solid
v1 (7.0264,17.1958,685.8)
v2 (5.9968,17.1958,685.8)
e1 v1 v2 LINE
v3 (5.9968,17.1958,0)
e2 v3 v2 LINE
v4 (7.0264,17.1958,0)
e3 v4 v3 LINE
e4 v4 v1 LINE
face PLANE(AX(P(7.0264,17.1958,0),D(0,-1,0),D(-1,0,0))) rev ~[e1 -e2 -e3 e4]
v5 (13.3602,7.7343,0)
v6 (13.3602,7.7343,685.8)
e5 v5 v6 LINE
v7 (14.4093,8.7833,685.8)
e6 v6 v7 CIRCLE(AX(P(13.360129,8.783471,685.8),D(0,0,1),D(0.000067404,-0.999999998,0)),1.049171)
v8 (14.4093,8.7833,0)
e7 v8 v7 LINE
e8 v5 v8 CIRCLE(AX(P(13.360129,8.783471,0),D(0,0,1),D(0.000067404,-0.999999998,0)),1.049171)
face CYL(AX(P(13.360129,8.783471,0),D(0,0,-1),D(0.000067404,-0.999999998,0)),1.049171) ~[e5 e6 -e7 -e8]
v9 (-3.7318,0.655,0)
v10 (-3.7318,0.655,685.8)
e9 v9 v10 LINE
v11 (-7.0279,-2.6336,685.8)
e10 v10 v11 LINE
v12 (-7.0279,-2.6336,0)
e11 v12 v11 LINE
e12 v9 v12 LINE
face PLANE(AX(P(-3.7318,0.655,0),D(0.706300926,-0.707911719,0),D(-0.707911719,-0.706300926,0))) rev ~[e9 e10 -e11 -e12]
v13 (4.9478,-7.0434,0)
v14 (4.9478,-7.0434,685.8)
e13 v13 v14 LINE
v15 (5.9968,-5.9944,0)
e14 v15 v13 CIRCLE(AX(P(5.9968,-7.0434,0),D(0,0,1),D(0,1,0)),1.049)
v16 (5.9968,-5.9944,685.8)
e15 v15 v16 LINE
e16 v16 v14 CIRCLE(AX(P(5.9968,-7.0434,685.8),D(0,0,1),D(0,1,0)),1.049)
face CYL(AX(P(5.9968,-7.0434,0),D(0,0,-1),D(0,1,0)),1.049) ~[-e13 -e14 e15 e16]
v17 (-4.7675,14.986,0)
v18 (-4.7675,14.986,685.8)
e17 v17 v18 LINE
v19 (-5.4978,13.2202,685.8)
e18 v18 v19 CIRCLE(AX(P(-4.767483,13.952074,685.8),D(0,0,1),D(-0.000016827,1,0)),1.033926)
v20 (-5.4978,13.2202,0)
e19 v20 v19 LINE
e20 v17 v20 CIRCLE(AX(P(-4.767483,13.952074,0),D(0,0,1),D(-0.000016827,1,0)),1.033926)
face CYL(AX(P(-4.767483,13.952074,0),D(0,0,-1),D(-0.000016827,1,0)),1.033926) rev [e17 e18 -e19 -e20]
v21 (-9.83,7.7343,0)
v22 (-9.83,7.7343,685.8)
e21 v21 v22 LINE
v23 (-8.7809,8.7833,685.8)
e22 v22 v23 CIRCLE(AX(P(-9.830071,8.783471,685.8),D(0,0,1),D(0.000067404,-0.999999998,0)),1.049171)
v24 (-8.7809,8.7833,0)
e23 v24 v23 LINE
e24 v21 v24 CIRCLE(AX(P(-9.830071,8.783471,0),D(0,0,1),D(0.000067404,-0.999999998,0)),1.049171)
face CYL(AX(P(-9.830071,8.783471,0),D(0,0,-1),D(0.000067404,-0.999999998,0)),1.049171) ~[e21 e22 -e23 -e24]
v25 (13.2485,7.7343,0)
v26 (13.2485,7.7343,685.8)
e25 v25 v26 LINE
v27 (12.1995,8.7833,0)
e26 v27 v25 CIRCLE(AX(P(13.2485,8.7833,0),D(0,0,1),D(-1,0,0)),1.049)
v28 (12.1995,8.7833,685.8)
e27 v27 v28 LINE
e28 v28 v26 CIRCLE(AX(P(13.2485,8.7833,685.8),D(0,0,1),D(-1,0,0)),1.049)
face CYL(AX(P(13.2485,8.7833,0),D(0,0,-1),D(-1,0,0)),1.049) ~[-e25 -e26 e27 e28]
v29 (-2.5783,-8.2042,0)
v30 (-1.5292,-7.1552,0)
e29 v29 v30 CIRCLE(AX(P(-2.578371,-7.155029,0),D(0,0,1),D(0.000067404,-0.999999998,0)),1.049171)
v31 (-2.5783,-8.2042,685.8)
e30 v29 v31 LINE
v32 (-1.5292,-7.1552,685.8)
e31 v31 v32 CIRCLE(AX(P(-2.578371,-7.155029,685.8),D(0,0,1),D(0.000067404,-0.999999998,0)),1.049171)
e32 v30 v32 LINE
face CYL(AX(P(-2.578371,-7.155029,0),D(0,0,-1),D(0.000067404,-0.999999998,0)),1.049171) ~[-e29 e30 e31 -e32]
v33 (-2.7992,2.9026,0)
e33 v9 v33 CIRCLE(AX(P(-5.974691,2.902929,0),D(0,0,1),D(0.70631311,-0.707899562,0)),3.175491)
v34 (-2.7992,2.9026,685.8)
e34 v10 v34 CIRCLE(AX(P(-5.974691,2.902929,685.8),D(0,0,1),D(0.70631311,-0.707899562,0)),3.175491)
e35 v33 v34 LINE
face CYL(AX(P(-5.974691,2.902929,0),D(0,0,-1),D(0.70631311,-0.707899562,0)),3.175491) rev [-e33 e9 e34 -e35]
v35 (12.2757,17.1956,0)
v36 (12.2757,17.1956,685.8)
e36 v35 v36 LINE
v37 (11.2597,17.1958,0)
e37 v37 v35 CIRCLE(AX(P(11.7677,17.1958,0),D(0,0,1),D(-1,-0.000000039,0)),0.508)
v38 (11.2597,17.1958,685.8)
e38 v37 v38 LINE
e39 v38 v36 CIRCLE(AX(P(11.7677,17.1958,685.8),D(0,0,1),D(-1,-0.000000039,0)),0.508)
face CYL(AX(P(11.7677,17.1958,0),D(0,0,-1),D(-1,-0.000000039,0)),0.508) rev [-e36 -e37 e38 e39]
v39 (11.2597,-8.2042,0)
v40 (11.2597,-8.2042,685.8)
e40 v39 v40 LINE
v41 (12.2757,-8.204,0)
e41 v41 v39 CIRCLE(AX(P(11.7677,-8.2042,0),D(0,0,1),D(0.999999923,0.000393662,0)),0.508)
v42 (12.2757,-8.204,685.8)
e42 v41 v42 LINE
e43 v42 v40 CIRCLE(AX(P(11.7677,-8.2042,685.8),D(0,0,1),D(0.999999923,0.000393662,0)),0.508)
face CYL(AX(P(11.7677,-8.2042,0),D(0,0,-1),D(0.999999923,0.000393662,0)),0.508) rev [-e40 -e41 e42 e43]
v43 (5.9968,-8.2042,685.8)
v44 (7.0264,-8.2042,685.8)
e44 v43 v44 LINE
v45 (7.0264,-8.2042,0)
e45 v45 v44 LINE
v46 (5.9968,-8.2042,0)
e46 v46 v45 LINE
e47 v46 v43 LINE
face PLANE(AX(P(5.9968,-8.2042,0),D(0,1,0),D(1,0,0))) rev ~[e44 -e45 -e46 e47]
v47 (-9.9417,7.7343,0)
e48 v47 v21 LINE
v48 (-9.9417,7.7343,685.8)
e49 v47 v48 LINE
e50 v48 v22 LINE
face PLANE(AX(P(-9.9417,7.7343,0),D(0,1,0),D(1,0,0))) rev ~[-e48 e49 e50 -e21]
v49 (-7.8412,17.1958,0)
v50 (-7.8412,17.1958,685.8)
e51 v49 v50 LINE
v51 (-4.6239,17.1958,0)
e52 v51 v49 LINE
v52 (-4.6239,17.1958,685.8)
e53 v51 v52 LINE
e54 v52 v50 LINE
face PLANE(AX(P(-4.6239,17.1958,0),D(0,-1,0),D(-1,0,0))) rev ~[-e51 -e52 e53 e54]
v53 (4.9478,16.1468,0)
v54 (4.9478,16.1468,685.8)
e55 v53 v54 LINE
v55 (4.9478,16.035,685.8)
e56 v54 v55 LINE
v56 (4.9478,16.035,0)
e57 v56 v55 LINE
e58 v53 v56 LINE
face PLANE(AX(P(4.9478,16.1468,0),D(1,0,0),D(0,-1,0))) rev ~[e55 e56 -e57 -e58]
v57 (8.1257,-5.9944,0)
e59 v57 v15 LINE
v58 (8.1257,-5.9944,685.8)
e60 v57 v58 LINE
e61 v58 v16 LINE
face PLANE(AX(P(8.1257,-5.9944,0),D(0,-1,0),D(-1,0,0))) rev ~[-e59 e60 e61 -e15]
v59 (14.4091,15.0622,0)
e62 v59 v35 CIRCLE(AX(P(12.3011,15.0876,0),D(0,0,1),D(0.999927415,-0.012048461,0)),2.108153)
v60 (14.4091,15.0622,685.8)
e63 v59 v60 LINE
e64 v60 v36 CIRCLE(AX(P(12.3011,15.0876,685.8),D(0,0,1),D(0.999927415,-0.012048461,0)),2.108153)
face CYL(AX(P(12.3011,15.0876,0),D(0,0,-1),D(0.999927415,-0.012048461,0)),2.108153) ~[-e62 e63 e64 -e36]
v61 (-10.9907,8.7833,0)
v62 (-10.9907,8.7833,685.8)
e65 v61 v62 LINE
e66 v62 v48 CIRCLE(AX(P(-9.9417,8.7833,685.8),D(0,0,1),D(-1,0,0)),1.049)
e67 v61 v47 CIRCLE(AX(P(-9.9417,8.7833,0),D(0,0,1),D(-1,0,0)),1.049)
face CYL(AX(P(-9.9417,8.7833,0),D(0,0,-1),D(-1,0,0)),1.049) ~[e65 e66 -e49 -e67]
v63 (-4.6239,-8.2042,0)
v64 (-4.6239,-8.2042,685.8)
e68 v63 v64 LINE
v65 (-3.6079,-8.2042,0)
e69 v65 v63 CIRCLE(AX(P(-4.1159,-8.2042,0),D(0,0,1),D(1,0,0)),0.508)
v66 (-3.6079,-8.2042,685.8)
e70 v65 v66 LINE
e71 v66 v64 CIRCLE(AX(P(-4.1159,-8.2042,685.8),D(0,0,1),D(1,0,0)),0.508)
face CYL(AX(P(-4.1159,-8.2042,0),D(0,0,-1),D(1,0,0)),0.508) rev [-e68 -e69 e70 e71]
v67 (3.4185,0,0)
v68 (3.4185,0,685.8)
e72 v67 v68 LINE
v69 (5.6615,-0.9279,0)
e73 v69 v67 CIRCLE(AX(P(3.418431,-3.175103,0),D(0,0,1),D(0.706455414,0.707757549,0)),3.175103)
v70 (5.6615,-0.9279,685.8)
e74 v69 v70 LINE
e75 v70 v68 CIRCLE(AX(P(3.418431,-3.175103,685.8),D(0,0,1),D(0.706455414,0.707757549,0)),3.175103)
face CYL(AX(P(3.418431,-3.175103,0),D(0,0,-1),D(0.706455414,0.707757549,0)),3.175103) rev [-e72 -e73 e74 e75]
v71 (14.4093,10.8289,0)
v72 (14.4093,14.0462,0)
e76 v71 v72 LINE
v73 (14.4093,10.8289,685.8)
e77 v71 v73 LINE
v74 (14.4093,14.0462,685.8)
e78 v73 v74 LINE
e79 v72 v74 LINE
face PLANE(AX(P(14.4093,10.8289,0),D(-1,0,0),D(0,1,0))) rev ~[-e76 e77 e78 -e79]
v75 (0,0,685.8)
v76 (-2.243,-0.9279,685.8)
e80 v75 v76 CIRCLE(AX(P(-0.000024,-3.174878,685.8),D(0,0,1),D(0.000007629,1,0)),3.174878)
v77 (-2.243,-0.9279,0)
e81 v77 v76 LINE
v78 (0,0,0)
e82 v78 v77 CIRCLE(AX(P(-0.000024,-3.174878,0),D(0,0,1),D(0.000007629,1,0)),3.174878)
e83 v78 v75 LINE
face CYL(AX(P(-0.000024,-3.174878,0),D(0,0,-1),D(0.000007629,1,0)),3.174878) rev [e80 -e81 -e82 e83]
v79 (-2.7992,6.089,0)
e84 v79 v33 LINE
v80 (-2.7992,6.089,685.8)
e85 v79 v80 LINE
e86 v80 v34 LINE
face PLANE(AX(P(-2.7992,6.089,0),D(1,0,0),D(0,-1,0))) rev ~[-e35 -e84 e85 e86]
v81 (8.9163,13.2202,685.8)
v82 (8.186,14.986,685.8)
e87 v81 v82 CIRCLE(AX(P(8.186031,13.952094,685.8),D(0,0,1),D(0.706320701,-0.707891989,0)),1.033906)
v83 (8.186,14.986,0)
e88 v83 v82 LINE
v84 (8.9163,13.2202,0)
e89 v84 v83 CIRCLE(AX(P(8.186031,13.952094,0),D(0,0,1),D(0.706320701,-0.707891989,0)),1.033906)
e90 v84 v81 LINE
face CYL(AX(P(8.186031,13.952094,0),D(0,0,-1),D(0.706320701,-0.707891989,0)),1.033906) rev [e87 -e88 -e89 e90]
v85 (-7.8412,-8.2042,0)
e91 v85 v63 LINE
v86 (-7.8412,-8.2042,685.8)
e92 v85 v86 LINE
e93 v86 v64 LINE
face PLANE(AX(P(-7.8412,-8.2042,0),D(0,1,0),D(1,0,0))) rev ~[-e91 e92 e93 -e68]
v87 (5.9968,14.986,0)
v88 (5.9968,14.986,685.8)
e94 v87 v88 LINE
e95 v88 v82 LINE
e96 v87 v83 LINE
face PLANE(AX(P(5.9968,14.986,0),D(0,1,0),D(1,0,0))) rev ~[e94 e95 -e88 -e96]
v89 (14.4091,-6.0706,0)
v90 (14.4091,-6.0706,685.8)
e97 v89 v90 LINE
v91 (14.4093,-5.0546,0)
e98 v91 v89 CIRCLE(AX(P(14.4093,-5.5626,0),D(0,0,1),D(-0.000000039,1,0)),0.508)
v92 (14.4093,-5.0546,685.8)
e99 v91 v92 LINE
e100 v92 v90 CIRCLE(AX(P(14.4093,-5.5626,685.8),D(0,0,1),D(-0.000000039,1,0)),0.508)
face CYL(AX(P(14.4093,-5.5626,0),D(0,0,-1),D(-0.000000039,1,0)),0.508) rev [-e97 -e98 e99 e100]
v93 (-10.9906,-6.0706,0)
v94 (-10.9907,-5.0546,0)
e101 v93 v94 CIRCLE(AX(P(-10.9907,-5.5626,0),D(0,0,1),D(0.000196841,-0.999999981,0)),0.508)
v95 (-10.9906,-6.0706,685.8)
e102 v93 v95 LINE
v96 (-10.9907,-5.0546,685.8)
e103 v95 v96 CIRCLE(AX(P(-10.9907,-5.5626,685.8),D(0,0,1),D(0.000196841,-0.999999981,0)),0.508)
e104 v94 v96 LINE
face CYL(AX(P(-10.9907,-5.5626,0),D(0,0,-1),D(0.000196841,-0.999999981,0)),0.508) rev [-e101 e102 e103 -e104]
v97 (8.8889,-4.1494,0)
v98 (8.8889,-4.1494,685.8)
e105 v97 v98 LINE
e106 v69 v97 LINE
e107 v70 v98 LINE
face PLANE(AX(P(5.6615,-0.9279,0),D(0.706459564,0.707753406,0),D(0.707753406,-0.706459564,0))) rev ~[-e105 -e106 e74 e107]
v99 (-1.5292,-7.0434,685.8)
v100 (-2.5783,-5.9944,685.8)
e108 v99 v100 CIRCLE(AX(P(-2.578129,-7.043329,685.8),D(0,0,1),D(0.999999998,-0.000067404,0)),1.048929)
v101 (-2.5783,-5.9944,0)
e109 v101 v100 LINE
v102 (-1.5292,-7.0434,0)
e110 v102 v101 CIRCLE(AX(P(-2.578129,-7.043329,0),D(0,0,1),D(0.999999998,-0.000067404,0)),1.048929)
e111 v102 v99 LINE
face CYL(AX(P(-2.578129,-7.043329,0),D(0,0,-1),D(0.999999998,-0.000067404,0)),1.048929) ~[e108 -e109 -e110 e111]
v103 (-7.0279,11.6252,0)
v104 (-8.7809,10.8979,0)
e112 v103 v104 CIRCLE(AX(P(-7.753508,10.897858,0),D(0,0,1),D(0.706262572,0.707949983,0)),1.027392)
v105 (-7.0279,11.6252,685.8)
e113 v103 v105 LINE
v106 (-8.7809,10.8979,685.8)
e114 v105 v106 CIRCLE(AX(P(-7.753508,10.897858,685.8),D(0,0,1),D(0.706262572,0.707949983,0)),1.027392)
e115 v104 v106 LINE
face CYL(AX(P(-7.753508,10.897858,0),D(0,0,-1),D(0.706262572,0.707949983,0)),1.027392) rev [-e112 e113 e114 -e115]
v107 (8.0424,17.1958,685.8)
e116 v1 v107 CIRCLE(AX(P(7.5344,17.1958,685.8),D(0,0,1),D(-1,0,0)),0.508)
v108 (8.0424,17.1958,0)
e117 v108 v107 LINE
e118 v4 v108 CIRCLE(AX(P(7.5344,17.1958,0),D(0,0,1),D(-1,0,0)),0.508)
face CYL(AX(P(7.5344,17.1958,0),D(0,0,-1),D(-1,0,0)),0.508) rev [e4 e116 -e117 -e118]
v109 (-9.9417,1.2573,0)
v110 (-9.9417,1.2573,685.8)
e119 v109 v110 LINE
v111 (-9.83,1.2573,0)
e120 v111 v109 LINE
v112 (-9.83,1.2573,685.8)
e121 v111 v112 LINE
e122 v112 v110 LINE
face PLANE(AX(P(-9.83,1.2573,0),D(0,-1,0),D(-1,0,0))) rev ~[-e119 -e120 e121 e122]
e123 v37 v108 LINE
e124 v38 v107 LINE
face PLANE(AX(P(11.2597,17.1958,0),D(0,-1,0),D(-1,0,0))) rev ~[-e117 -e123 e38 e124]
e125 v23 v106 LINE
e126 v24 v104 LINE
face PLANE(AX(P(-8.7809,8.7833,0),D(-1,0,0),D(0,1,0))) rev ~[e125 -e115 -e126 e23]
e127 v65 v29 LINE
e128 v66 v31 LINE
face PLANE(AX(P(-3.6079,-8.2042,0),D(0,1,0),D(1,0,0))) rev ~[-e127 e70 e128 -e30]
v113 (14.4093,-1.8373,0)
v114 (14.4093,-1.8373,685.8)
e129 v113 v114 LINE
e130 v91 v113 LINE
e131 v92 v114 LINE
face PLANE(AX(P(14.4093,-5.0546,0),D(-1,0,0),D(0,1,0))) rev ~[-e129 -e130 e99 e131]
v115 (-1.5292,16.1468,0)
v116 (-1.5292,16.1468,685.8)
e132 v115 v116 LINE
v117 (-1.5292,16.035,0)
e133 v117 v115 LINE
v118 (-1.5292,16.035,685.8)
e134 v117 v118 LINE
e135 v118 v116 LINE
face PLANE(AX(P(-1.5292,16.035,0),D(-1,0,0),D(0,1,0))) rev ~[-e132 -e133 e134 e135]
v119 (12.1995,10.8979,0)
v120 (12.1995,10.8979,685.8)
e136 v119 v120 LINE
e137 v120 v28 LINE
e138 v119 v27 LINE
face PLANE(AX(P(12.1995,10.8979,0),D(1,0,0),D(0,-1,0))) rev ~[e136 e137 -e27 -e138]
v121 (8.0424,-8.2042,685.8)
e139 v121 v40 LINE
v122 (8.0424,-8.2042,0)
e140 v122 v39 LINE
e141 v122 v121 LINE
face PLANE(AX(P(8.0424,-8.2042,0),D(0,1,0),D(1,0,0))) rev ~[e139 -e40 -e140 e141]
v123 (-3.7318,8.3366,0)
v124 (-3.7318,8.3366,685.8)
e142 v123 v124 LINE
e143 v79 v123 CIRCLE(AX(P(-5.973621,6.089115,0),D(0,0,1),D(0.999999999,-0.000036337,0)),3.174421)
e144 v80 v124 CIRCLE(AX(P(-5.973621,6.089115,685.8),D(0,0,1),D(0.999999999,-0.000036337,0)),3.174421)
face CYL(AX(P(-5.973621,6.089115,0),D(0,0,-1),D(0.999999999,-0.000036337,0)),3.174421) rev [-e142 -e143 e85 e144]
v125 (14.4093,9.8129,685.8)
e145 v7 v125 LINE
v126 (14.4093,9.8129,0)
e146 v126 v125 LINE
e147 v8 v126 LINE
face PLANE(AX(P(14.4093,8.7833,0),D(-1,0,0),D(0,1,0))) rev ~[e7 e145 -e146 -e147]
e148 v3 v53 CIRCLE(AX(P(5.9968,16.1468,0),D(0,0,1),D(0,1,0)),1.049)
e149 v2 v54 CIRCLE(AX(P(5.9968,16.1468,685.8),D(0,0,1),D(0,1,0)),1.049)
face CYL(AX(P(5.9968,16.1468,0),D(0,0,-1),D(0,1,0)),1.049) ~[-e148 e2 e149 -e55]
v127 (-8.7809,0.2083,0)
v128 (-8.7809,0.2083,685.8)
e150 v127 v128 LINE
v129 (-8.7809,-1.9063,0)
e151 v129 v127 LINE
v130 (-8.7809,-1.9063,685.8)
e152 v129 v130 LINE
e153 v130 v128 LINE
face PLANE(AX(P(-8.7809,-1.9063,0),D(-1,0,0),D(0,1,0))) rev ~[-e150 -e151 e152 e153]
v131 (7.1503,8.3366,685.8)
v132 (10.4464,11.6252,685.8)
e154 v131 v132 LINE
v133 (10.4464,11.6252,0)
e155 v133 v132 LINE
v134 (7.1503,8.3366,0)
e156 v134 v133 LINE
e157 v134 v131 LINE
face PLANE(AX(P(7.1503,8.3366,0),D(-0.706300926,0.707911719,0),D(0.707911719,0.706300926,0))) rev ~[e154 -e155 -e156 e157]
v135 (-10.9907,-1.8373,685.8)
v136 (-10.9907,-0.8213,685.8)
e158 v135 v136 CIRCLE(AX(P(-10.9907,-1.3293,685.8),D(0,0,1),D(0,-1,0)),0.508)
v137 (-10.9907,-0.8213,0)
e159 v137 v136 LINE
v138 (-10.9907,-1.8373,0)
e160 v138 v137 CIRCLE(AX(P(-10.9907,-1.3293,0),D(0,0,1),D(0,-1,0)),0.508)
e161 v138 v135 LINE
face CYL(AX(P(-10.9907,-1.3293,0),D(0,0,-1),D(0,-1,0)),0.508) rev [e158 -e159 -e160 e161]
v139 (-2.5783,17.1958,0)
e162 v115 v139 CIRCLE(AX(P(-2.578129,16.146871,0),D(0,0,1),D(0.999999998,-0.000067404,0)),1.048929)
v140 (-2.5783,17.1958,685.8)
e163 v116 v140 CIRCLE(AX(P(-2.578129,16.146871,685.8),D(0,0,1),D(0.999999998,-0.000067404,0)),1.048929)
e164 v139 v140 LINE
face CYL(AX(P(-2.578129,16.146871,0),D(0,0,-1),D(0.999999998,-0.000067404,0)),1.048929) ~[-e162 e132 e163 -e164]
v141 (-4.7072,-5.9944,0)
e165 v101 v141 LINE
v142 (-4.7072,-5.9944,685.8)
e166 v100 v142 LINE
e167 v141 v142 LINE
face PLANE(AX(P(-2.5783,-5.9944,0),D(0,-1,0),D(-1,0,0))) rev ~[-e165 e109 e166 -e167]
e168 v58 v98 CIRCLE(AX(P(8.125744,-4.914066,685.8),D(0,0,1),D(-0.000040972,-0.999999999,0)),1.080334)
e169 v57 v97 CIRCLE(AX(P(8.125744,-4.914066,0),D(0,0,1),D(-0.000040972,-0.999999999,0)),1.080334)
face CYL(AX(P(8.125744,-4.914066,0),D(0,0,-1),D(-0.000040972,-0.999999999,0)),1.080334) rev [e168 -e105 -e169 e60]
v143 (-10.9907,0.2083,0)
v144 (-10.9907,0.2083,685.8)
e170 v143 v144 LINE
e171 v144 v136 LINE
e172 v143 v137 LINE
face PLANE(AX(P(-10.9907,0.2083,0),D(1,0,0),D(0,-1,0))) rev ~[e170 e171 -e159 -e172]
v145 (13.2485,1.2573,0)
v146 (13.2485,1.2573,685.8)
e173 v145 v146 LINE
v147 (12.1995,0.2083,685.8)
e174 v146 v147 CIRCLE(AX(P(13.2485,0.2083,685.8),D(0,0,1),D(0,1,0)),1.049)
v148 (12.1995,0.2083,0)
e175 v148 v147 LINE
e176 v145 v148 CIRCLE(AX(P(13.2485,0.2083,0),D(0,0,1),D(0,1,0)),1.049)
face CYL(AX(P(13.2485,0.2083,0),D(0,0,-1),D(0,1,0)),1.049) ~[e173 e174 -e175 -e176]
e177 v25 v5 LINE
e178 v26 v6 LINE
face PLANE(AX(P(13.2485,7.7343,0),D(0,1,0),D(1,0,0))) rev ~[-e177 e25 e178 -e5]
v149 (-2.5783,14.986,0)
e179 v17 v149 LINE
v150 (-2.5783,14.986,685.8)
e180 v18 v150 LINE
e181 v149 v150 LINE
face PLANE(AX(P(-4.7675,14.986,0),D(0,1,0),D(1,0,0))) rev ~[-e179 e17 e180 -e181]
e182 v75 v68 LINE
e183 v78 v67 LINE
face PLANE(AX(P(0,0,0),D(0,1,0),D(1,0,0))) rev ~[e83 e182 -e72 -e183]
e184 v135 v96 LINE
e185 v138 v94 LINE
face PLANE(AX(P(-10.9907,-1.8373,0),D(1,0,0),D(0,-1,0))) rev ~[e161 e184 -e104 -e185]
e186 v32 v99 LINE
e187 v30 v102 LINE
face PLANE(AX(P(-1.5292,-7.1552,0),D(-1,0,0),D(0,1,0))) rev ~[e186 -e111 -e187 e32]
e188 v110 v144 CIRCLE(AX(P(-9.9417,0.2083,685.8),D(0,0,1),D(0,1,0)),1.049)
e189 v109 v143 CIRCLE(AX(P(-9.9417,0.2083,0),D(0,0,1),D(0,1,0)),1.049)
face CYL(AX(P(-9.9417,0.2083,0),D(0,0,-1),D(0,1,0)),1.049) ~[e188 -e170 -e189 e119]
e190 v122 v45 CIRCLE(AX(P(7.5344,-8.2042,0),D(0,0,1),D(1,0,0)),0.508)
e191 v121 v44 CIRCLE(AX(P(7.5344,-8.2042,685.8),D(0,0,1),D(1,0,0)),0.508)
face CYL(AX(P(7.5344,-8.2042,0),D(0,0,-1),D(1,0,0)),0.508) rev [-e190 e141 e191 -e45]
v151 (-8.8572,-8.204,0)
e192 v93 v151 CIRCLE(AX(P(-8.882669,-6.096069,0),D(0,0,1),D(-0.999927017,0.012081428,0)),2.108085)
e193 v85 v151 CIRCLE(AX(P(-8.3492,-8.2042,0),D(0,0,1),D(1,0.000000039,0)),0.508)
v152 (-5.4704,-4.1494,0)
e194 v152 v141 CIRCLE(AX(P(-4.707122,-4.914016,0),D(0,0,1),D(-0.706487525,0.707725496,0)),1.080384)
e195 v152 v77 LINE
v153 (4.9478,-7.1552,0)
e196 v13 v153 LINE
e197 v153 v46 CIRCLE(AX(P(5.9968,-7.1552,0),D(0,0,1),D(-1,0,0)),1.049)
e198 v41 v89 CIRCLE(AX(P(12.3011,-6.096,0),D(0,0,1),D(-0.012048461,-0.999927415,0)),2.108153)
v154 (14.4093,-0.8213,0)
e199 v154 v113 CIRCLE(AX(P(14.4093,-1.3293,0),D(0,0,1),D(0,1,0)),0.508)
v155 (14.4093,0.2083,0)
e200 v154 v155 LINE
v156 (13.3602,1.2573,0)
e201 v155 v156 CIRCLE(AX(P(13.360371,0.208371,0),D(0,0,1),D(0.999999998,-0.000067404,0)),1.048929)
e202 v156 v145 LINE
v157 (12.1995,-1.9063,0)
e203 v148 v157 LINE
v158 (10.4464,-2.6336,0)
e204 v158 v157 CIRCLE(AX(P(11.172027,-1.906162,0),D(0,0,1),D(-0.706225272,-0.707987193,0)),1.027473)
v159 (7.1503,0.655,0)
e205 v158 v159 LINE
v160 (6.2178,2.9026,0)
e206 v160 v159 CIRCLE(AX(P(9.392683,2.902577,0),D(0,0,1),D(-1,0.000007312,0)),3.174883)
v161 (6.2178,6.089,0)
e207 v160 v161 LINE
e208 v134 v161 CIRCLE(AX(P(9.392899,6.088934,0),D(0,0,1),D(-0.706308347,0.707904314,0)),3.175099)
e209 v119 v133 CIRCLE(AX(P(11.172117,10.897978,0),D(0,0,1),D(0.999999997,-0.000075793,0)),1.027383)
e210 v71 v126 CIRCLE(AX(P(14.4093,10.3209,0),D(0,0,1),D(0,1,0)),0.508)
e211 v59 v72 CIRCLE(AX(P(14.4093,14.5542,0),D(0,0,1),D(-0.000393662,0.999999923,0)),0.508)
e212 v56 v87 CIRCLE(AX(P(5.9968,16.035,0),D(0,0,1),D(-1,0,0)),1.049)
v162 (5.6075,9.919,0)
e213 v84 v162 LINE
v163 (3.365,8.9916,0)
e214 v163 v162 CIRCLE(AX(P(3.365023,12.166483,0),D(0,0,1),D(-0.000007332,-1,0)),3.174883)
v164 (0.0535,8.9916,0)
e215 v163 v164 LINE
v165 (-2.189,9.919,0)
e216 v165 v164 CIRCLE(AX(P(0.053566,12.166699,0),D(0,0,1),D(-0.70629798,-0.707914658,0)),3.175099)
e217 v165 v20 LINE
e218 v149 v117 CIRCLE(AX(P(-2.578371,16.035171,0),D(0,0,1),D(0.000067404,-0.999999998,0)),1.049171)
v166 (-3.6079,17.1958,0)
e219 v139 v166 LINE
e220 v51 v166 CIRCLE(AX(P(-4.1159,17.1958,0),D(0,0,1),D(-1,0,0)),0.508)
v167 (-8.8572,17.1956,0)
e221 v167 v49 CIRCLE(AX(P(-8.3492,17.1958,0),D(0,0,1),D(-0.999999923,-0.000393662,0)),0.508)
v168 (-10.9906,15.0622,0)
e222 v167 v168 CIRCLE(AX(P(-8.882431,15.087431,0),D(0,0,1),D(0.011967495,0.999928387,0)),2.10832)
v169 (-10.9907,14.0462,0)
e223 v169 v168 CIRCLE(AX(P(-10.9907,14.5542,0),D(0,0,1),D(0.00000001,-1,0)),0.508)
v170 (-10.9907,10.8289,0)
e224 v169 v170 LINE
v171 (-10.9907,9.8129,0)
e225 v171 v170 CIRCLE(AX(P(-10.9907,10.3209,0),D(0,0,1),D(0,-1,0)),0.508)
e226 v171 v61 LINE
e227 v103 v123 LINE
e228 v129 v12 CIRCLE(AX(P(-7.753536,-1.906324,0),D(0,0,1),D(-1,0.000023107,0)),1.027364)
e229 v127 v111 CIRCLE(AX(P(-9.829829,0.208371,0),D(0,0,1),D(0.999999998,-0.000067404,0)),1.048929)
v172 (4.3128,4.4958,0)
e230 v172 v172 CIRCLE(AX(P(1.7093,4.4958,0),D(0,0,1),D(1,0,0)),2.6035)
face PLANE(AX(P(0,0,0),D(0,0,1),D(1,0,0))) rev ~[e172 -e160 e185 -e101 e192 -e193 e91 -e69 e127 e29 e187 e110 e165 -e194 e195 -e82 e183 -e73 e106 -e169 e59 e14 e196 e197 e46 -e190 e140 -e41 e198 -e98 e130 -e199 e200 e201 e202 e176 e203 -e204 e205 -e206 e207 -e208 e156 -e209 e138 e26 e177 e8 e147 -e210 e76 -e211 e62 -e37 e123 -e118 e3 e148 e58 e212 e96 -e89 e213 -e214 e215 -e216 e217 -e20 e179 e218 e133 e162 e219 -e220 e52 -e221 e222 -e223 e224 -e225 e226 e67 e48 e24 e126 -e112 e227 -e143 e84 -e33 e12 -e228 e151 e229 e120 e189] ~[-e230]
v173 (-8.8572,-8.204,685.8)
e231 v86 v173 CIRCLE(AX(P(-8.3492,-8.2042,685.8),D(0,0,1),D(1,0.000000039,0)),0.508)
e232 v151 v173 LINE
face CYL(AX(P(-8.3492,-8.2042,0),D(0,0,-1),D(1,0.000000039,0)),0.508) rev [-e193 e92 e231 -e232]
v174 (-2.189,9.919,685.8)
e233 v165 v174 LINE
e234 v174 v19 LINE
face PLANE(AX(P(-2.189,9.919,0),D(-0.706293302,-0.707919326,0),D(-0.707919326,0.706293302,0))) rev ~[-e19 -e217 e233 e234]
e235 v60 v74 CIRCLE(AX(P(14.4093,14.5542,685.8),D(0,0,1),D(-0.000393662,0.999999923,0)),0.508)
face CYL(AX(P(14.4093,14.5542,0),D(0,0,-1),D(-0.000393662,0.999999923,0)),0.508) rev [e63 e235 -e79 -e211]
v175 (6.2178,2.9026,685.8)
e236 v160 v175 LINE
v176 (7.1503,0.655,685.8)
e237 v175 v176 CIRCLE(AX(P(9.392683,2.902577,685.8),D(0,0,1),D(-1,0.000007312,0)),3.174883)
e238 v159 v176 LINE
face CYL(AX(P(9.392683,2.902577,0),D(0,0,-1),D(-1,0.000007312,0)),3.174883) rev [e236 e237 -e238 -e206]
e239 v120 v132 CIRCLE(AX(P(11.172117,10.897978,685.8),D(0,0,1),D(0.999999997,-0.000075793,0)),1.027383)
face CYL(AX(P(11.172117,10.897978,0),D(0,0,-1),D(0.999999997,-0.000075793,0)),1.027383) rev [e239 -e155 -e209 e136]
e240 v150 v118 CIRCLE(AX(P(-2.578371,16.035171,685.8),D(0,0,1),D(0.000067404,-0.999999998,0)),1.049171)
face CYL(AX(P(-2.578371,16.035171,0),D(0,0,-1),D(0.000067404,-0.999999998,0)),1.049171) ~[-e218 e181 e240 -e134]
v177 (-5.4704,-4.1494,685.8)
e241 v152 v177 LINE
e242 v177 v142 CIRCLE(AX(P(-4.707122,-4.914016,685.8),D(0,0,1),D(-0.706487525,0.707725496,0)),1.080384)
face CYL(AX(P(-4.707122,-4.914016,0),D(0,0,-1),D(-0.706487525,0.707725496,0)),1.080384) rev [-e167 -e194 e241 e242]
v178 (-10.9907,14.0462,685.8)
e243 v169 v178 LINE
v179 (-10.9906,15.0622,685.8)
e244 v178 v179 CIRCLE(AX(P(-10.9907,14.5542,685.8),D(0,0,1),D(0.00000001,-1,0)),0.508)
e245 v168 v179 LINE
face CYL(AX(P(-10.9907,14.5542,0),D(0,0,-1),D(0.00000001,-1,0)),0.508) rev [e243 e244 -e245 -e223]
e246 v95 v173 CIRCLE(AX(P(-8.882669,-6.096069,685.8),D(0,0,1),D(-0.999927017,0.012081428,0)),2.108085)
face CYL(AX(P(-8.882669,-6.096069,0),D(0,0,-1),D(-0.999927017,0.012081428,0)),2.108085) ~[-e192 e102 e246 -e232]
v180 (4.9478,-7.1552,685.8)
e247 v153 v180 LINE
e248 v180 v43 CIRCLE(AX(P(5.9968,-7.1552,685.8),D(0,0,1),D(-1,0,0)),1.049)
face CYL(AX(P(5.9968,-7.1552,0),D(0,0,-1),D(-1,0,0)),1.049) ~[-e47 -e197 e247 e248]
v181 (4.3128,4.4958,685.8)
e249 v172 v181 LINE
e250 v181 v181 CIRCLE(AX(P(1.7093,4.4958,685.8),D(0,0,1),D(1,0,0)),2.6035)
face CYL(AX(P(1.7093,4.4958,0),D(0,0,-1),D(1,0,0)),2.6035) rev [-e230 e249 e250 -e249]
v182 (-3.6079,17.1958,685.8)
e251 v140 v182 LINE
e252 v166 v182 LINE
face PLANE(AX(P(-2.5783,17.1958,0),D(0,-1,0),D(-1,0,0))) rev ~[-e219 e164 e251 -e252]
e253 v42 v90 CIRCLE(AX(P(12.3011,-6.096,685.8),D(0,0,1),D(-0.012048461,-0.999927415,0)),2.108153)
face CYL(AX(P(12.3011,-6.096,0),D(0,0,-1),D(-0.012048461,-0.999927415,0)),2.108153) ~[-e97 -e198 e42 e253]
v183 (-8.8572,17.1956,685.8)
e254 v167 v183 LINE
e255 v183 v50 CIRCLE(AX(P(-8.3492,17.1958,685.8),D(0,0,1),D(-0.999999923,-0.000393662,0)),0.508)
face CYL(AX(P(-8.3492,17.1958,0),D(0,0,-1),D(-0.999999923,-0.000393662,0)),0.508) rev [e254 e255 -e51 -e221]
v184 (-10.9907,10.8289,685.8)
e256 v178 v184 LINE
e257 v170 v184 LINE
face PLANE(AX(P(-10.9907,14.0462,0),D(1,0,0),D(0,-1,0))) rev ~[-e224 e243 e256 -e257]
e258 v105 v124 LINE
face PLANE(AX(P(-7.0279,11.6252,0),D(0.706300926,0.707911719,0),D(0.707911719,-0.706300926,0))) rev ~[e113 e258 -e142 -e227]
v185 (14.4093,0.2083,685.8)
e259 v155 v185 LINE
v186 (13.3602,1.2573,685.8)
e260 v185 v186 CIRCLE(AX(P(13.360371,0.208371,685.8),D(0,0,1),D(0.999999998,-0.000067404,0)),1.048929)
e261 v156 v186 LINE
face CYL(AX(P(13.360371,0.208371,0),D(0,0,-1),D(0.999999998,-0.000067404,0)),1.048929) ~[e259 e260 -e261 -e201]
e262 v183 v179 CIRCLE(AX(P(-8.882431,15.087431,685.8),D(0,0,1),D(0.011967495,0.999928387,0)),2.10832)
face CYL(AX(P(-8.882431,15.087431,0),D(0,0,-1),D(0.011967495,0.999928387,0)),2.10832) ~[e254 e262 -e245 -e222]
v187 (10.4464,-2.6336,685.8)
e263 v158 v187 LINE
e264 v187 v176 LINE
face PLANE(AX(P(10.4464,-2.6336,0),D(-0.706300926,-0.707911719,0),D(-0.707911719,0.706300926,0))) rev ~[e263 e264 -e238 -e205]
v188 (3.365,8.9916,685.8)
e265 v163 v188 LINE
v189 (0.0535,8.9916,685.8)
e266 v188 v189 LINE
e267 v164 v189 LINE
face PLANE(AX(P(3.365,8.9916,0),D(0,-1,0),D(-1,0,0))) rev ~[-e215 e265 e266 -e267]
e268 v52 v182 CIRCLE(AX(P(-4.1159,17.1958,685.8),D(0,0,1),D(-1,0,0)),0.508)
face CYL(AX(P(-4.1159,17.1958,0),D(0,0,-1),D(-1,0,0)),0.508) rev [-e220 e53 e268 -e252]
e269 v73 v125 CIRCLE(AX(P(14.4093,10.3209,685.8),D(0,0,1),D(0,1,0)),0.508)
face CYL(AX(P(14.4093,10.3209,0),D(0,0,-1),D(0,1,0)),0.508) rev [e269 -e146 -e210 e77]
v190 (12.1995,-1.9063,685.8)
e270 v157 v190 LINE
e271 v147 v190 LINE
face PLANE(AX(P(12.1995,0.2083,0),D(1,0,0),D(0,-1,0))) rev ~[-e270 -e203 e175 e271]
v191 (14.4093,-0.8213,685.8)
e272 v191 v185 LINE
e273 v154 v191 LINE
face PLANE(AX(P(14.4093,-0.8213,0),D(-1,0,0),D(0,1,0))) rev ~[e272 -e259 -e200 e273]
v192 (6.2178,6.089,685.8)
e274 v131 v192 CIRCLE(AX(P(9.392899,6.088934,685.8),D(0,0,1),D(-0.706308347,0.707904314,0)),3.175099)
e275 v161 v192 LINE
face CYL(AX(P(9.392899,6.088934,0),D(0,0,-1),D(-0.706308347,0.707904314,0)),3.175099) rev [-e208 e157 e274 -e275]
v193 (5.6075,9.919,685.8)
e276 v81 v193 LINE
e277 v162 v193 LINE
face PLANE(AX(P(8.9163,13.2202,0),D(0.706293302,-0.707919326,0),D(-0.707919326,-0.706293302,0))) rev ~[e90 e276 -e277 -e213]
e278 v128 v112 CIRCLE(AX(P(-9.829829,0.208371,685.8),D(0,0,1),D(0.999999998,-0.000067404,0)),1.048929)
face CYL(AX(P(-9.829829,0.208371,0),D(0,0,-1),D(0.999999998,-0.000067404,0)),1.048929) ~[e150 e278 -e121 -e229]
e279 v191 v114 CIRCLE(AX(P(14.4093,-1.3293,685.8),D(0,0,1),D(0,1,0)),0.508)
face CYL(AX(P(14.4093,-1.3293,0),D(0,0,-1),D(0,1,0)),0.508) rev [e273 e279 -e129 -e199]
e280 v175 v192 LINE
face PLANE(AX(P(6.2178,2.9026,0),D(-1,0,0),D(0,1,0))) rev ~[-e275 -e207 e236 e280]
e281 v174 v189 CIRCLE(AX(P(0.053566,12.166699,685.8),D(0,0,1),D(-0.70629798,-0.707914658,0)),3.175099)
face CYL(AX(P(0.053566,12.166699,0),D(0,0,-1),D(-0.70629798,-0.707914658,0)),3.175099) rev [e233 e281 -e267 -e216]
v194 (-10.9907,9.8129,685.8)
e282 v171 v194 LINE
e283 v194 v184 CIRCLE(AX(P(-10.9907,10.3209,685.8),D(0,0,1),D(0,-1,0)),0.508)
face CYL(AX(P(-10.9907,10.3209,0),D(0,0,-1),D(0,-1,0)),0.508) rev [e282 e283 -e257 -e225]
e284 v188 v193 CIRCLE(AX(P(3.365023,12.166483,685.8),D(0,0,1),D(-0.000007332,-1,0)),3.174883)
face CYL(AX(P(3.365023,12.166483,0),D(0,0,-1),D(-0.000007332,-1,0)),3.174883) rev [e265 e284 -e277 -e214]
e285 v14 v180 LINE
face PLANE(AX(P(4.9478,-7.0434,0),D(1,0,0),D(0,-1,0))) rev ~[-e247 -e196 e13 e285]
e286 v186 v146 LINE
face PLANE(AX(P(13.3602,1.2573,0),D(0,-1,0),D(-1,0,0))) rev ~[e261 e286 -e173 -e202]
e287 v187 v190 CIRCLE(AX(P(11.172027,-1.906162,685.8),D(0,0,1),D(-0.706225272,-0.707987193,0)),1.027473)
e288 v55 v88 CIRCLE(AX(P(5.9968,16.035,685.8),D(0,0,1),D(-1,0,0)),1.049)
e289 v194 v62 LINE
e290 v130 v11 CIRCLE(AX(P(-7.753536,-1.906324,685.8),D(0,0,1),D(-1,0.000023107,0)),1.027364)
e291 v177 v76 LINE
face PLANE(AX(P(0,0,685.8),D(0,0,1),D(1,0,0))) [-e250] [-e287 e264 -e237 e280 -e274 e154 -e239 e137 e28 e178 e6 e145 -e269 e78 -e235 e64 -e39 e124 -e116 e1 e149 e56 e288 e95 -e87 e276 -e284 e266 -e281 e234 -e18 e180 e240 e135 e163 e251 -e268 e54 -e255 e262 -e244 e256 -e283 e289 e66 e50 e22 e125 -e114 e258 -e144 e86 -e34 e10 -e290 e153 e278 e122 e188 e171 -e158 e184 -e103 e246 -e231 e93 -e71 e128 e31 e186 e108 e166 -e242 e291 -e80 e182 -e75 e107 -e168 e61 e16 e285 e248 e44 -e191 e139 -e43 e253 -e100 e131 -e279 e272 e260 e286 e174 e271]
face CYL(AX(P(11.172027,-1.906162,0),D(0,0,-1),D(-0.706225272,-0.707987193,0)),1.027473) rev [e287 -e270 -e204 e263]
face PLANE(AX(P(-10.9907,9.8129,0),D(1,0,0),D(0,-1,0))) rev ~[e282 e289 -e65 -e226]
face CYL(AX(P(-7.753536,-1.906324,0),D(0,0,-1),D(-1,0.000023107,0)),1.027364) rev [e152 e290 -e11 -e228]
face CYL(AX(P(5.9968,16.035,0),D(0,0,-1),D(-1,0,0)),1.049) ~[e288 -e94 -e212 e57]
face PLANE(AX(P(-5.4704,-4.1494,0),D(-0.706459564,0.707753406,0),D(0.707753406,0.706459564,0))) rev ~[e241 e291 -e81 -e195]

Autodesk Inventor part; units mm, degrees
ref_plane "YZ Plane" through (0, 0, 0) normal (1, 0, 0) x (0, 1, 0)
ref_plane "XZ Plane" through (0, 0, 0) normal (0, 1, 0) x (-1, 0, 0)
ref_plane "XY Plane" through (0, 0, 0) normal (0, 0, 1) x (1, 0, 0)
sketch "Sketch1" plane through (0, 0, 0) normal (0, 0, 1) x (1, 0, 0)
  arc A0 (-5.4704, -4.1494) -> (-4.7072, -5.9944) centre (-4.7072, -4.914) ccw
  line L0 (-5.4704, -4.1494) -> (-2.243, -0.9279)
  arc A1 (0, 0) -> (-2.243, -0.9279) centre (0, -3.175) ccw
  line L1 (0, 0) -> (3.4185, 0)
  arc A2 (5.6615, -0.9279) -> (3.4185, 0) centre (3.4185, -3.175) ccw
  line L2 (5.6615, -0.9279) -> (8.8889, -4.1494)
  arc A3 (8.1257, -5.9944) -> (8.8889, -4.1494) centre (8.1257, -4.914) ccw
  line L3 (8.1257, -5.9944) -> (5.9968, -5.9944)
  arc A4 (5.9968, -5.9944) -> (4.9478, -7.0434) centre (5.9968, -7.0434) ccw
  line L4 (4.9478, -7.0434) -> (4.9478, -7.1552)
  arc A5 (4.9478, -7.1552) -> (5.9968, -8.2042) centre (5.9968, -7.1552) ccw
  line L5 (5.9968, -8.2042) -> (7.0264, -8.2042)
  arc A6 (8.0424, -8.2042) -> (7.0264, -8.2042) centre (7.5344, -8.2042) ccw
  line L6 (8.0424, -8.2042) -> (11.2597, -8.2042)
  arc A7 (12.2757, -8.204) -> (11.2597, -8.2042) centre (11.7677, -8.2042) ccw
  arc A8 (12.2757, -8.204) -> (14.4091, -6.0706) centre (12.3011, -6.096) ccw
  arc A9 (14.4093, -5.0546) -> (14.4091, -6.0706) centre (14.4093, -5.5626) ccw
  line L7 (14.4093, -5.0546) -> (14.4093, -1.8373)
  arc A10 (14.4093, -0.8213) -> (14.4093, -1.8373) centre (14.4093, -1.3293) ccw
  line L8 (14.4093, -0.8213) -> (14.4093, 0.2083)
  arc A11 (14.4093, 0.2083) -> (13.3602, 1.2573) centre (13.3602, 0.2083) ccw
  line L9 (13.3602, 1.2573) -> (13.2485, 1.2573)
  arc A12 (13.2485, 1.2573) -> (12.1995, 0.2083) centre (13.2485, 0.2083) ccw
  line L10 (12.1995, 0.2083) -> (12.1995, -1.9063)
  arc A13 (10.4464, -2.6336) -> (12.1995, -1.9063) centre (11.172, -1.9063) ccw
  line L11 (10.4464, -2.6336) -> (7.1503, 0.655)
  arc A14 (6.2178, 2.9026) -> (7.1503, 0.655) centre (9.3928, 2.9026) ccw
  line L12 (6.2178, 2.9026) -> (6.2178, 6.089)
  arc A15 (7.1503, 8.3366) -> (6.2178, 6.089) centre (9.3928, 6.089) ccw
  line L13 (7.1503, 8.3366) -> (10.4464, 11.6252)
  arc A16 (12.1995, 10.8979) -> (10.4464, 11.6252) centre (11.172, 10.8979) ccw
  line L14 (12.1995, 10.8979) -> (12.1995, 8.7833)
  arc A17 (12.1995, 8.7833) -> (13.2485, 7.7343) centre (13.2485, 8.7833) ccw
  line L15 (13.2485, 7.7343) -> (13.3602, 7.7343)
  arc A18 (13.3602, 7.7343) -> (14.4093, 8.7833) centre (13.3602, 8.7833) ccw
  line L16 (14.4093, 8.7833) -> (14.4093, 9.8129)
  arc A19 (14.4093, 10.8289) -> (14.4093, 9.8129) centre (14.4093, 10.3209) ccw
  line L17 (14.4093, 10.8289) -> (14.4093, 14.0462)
  arc A20 (14.4091, 15.0622) -> (14.4093, 14.0462) centre (14.4093, 14.5542) ccw
  arc A21 (14.4091, 15.0622) -> (12.2757, 17.1956) centre (12.3011, 15.0876) ccw
  arc A22 (11.2597, 17.1958) -> (12.2757, 17.1956) centre (11.7677, 17.1958) ccw
  line L18 (11.2597, 17.1958) -> (8.0424, 17.1958)
  arc A23 (7.0264, 17.1958) -> (8.0424, 17.1958) centre (7.5344, 17.1958) ccw
  line L19 (7.0264, 17.1958) -> (5.9968, 17.1958)
  arc A24 (5.9968, 17.1958) -> (4.9478, 16.1468) centre (5.9968, 16.1468) ccw
  line L20 (4.9478, 16.1468) -> (4.9478, 16.035)
  arc A25 (4.9478, 16.035) -> (5.9968, 14.986) centre (5.9968, 16.035) ccw
  line L21 (5.9968, 14.986) -> (8.186, 14.986)
  arc A26 (8.9163, 13.2202) -> (8.186, 14.986) centre (8.186, 13.9521) ccw
  line L22 (8.9163, 13.2202) -> (5.6075, 9.919)
  arc A27 (3.365, 8.9916) -> (5.6075, 9.919) centre (3.365, 12.1666) ccw
  line L23 (3.365, 8.9916) -> (0.0535, 8.9916)
  arc A28 (-2.189, 9.919) -> (0.0535, 8.9916) centre (0.0535, 12.1666) ccw
  line L24 (-2.189, 9.919) -> (-5.4978, 13.2202)
  arc A29 (-4.7675, 14.986) -> (-5.4978, 13.2202) centre (-4.7675, 13.9521) ccw
  line L25 (-4.7675, 14.986) -> (-2.5783, 14.986)
  arc A30 (-2.5783, 14.986) -> (-1.5292, 16.035) centre (-2.5783, 16.035) ccw
  line L26 (-1.5292, 16.035) -> (-1.5292, 16.1468)
  arc A31 (-1.5292, 16.1468) -> (-2.5783, 17.1958) centre (-2.5783, 16.1468) ccw
  line L27 (-2.5783, 17.1958) -> (-3.6079, 17.1958)
  arc A32 (-4.6239, 17.1958) -> (-3.6079, 17.1958) centre (-4.1159, 17.1958) ccw
  line L28 (-4.6239, 17.1958) -> (-7.8412, 17.1958)
  arc A33 (-8.8572, 17.1956) -> (-7.8412, 17.1958) centre (-8.3492, 17.1958) ccw
  arc A34 (-8.8572, 17.1956) -> (-10.9906, 15.0622) centre (-8.8825, 15.0876) ccw
  arc A35 (-10.9907, 14.0462) -> (-10.9906, 15.0622) centre (-10.9907, 14.5542) ccw
  line L29 (-10.9907, 14.0462) -> (-10.9907, 10.8289)
  arc A36 (-10.9907, 9.8129) -> (-10.9907, 10.8289) centre (-10.9907, 10.3209) ccw
  line L30 (-10.9907, 9.8129) -> (-10.9907, 8.7833)
  arc A37 (-10.9907, 8.7833) -> (-9.9417, 7.7343) centre (-9.9417, 8.7833) ccw
  line L31 (-9.9417, 7.7343) -> (-9.83, 7.7343)
  arc A38 (-9.83, 7.7343) -> (-8.7809, 8.7833) centre (-9.83, 8.7833) ccw
  line L32 (-8.7809, 8.7833) -> (-8.7809, 10.8979)
  arc A39 (-7.0279, 11.6252) -> (-8.7809, 10.8979) centre (-7.7535, 10.8979) ccw
  line L33 (-7.0279, 11.6252) -> (-3.7318, 8.3366)
  arc A40 (-2.7992, 6.089) -> (-3.7318, 8.3366) centre (-5.9742, 6.089) ccw
  line L34 (-2.7992, 6.089) -> (-2.7992, 2.9026)
  arc A41 (-3.7318, 0.655) -> (-2.7992, 2.9026) centre (-5.9742, 2.9026) ccw
  line L35 (-3.7318, 0.655) -> (-7.0279, -2.6336)
  arc A42 (-8.7809, -1.9063) -> (-7.0279, -2.6336) centre (-7.7535, -1.9063) ccw
  line L36 (-8.7809, -1.9063) -> (-8.7809, 0.2083)
  arc A43 (-8.7809, 0.2083) -> (-9.83, 1.2573) centre (-9.83, 0.2083) ccw
  line L37 (-9.83, 1.2573) -> (-9.9417, 1.2573)
  arc A44 (-9.9417, 1.2573) -> (-10.9907, 0.2083) centre (-9.9417, 0.2083) ccw
  line L38 (-10.9907, 0.2083) -> (-10.9907, -0.8213)
  arc A45 (-10.9907, -1.8373) -> (-10.9907, -0.8213) centre (-10.9907, -1.3293) ccw
  line L39 (-10.9907, -1.8373) -> (-10.9907, -5.0546)
  arc A46 (-10.9906, -6.0706) -> (-10.9907, -5.0546) centre (-10.9907, -5.5626) ccw
  arc A47 (-10.9906, -6.0706) -> (-8.8572, -8.204) centre (-8.8825, -6.096) ccw
  arc A48 (-7.8412, -8.2042) -> (-8.8572, -8.204) centre (-8.3492, -8.2042) ccw
  line L40 (-7.8412, -8.2042) -> (-4.6239, -8.2042)
  arc A49 (-3.6079, -8.2042) -> (-4.6239, -8.2042) centre (-4.1159, -8.2042) ccw
  line L41 (-3.6079, -8.2042) -> (-2.5783, -8.2042)
  arc A50 (-2.5783, -8.2042) -> (-1.5292, -7.1552) centre (-2.5783, -7.1552) ccw
  line L42 (-1.5292, -7.1552) -> (-1.5292, -7.0434)
  arc A51 (-1.5292, -7.0434) -> (-2.5783, -5.9944) centre (-2.5783, -7.0434) ccw
  line L43 (-2.5783, -5.9944) -> (-4.7072, -5.9944)
  circle A52 centre (1.7093, 4.4958) radius 2.6035
extrude "Extrusion1" add sketch "Sketch1" along normal blind 685.8
properties part number "27 in 1x1 T slot" material "Steel, Alloy"
